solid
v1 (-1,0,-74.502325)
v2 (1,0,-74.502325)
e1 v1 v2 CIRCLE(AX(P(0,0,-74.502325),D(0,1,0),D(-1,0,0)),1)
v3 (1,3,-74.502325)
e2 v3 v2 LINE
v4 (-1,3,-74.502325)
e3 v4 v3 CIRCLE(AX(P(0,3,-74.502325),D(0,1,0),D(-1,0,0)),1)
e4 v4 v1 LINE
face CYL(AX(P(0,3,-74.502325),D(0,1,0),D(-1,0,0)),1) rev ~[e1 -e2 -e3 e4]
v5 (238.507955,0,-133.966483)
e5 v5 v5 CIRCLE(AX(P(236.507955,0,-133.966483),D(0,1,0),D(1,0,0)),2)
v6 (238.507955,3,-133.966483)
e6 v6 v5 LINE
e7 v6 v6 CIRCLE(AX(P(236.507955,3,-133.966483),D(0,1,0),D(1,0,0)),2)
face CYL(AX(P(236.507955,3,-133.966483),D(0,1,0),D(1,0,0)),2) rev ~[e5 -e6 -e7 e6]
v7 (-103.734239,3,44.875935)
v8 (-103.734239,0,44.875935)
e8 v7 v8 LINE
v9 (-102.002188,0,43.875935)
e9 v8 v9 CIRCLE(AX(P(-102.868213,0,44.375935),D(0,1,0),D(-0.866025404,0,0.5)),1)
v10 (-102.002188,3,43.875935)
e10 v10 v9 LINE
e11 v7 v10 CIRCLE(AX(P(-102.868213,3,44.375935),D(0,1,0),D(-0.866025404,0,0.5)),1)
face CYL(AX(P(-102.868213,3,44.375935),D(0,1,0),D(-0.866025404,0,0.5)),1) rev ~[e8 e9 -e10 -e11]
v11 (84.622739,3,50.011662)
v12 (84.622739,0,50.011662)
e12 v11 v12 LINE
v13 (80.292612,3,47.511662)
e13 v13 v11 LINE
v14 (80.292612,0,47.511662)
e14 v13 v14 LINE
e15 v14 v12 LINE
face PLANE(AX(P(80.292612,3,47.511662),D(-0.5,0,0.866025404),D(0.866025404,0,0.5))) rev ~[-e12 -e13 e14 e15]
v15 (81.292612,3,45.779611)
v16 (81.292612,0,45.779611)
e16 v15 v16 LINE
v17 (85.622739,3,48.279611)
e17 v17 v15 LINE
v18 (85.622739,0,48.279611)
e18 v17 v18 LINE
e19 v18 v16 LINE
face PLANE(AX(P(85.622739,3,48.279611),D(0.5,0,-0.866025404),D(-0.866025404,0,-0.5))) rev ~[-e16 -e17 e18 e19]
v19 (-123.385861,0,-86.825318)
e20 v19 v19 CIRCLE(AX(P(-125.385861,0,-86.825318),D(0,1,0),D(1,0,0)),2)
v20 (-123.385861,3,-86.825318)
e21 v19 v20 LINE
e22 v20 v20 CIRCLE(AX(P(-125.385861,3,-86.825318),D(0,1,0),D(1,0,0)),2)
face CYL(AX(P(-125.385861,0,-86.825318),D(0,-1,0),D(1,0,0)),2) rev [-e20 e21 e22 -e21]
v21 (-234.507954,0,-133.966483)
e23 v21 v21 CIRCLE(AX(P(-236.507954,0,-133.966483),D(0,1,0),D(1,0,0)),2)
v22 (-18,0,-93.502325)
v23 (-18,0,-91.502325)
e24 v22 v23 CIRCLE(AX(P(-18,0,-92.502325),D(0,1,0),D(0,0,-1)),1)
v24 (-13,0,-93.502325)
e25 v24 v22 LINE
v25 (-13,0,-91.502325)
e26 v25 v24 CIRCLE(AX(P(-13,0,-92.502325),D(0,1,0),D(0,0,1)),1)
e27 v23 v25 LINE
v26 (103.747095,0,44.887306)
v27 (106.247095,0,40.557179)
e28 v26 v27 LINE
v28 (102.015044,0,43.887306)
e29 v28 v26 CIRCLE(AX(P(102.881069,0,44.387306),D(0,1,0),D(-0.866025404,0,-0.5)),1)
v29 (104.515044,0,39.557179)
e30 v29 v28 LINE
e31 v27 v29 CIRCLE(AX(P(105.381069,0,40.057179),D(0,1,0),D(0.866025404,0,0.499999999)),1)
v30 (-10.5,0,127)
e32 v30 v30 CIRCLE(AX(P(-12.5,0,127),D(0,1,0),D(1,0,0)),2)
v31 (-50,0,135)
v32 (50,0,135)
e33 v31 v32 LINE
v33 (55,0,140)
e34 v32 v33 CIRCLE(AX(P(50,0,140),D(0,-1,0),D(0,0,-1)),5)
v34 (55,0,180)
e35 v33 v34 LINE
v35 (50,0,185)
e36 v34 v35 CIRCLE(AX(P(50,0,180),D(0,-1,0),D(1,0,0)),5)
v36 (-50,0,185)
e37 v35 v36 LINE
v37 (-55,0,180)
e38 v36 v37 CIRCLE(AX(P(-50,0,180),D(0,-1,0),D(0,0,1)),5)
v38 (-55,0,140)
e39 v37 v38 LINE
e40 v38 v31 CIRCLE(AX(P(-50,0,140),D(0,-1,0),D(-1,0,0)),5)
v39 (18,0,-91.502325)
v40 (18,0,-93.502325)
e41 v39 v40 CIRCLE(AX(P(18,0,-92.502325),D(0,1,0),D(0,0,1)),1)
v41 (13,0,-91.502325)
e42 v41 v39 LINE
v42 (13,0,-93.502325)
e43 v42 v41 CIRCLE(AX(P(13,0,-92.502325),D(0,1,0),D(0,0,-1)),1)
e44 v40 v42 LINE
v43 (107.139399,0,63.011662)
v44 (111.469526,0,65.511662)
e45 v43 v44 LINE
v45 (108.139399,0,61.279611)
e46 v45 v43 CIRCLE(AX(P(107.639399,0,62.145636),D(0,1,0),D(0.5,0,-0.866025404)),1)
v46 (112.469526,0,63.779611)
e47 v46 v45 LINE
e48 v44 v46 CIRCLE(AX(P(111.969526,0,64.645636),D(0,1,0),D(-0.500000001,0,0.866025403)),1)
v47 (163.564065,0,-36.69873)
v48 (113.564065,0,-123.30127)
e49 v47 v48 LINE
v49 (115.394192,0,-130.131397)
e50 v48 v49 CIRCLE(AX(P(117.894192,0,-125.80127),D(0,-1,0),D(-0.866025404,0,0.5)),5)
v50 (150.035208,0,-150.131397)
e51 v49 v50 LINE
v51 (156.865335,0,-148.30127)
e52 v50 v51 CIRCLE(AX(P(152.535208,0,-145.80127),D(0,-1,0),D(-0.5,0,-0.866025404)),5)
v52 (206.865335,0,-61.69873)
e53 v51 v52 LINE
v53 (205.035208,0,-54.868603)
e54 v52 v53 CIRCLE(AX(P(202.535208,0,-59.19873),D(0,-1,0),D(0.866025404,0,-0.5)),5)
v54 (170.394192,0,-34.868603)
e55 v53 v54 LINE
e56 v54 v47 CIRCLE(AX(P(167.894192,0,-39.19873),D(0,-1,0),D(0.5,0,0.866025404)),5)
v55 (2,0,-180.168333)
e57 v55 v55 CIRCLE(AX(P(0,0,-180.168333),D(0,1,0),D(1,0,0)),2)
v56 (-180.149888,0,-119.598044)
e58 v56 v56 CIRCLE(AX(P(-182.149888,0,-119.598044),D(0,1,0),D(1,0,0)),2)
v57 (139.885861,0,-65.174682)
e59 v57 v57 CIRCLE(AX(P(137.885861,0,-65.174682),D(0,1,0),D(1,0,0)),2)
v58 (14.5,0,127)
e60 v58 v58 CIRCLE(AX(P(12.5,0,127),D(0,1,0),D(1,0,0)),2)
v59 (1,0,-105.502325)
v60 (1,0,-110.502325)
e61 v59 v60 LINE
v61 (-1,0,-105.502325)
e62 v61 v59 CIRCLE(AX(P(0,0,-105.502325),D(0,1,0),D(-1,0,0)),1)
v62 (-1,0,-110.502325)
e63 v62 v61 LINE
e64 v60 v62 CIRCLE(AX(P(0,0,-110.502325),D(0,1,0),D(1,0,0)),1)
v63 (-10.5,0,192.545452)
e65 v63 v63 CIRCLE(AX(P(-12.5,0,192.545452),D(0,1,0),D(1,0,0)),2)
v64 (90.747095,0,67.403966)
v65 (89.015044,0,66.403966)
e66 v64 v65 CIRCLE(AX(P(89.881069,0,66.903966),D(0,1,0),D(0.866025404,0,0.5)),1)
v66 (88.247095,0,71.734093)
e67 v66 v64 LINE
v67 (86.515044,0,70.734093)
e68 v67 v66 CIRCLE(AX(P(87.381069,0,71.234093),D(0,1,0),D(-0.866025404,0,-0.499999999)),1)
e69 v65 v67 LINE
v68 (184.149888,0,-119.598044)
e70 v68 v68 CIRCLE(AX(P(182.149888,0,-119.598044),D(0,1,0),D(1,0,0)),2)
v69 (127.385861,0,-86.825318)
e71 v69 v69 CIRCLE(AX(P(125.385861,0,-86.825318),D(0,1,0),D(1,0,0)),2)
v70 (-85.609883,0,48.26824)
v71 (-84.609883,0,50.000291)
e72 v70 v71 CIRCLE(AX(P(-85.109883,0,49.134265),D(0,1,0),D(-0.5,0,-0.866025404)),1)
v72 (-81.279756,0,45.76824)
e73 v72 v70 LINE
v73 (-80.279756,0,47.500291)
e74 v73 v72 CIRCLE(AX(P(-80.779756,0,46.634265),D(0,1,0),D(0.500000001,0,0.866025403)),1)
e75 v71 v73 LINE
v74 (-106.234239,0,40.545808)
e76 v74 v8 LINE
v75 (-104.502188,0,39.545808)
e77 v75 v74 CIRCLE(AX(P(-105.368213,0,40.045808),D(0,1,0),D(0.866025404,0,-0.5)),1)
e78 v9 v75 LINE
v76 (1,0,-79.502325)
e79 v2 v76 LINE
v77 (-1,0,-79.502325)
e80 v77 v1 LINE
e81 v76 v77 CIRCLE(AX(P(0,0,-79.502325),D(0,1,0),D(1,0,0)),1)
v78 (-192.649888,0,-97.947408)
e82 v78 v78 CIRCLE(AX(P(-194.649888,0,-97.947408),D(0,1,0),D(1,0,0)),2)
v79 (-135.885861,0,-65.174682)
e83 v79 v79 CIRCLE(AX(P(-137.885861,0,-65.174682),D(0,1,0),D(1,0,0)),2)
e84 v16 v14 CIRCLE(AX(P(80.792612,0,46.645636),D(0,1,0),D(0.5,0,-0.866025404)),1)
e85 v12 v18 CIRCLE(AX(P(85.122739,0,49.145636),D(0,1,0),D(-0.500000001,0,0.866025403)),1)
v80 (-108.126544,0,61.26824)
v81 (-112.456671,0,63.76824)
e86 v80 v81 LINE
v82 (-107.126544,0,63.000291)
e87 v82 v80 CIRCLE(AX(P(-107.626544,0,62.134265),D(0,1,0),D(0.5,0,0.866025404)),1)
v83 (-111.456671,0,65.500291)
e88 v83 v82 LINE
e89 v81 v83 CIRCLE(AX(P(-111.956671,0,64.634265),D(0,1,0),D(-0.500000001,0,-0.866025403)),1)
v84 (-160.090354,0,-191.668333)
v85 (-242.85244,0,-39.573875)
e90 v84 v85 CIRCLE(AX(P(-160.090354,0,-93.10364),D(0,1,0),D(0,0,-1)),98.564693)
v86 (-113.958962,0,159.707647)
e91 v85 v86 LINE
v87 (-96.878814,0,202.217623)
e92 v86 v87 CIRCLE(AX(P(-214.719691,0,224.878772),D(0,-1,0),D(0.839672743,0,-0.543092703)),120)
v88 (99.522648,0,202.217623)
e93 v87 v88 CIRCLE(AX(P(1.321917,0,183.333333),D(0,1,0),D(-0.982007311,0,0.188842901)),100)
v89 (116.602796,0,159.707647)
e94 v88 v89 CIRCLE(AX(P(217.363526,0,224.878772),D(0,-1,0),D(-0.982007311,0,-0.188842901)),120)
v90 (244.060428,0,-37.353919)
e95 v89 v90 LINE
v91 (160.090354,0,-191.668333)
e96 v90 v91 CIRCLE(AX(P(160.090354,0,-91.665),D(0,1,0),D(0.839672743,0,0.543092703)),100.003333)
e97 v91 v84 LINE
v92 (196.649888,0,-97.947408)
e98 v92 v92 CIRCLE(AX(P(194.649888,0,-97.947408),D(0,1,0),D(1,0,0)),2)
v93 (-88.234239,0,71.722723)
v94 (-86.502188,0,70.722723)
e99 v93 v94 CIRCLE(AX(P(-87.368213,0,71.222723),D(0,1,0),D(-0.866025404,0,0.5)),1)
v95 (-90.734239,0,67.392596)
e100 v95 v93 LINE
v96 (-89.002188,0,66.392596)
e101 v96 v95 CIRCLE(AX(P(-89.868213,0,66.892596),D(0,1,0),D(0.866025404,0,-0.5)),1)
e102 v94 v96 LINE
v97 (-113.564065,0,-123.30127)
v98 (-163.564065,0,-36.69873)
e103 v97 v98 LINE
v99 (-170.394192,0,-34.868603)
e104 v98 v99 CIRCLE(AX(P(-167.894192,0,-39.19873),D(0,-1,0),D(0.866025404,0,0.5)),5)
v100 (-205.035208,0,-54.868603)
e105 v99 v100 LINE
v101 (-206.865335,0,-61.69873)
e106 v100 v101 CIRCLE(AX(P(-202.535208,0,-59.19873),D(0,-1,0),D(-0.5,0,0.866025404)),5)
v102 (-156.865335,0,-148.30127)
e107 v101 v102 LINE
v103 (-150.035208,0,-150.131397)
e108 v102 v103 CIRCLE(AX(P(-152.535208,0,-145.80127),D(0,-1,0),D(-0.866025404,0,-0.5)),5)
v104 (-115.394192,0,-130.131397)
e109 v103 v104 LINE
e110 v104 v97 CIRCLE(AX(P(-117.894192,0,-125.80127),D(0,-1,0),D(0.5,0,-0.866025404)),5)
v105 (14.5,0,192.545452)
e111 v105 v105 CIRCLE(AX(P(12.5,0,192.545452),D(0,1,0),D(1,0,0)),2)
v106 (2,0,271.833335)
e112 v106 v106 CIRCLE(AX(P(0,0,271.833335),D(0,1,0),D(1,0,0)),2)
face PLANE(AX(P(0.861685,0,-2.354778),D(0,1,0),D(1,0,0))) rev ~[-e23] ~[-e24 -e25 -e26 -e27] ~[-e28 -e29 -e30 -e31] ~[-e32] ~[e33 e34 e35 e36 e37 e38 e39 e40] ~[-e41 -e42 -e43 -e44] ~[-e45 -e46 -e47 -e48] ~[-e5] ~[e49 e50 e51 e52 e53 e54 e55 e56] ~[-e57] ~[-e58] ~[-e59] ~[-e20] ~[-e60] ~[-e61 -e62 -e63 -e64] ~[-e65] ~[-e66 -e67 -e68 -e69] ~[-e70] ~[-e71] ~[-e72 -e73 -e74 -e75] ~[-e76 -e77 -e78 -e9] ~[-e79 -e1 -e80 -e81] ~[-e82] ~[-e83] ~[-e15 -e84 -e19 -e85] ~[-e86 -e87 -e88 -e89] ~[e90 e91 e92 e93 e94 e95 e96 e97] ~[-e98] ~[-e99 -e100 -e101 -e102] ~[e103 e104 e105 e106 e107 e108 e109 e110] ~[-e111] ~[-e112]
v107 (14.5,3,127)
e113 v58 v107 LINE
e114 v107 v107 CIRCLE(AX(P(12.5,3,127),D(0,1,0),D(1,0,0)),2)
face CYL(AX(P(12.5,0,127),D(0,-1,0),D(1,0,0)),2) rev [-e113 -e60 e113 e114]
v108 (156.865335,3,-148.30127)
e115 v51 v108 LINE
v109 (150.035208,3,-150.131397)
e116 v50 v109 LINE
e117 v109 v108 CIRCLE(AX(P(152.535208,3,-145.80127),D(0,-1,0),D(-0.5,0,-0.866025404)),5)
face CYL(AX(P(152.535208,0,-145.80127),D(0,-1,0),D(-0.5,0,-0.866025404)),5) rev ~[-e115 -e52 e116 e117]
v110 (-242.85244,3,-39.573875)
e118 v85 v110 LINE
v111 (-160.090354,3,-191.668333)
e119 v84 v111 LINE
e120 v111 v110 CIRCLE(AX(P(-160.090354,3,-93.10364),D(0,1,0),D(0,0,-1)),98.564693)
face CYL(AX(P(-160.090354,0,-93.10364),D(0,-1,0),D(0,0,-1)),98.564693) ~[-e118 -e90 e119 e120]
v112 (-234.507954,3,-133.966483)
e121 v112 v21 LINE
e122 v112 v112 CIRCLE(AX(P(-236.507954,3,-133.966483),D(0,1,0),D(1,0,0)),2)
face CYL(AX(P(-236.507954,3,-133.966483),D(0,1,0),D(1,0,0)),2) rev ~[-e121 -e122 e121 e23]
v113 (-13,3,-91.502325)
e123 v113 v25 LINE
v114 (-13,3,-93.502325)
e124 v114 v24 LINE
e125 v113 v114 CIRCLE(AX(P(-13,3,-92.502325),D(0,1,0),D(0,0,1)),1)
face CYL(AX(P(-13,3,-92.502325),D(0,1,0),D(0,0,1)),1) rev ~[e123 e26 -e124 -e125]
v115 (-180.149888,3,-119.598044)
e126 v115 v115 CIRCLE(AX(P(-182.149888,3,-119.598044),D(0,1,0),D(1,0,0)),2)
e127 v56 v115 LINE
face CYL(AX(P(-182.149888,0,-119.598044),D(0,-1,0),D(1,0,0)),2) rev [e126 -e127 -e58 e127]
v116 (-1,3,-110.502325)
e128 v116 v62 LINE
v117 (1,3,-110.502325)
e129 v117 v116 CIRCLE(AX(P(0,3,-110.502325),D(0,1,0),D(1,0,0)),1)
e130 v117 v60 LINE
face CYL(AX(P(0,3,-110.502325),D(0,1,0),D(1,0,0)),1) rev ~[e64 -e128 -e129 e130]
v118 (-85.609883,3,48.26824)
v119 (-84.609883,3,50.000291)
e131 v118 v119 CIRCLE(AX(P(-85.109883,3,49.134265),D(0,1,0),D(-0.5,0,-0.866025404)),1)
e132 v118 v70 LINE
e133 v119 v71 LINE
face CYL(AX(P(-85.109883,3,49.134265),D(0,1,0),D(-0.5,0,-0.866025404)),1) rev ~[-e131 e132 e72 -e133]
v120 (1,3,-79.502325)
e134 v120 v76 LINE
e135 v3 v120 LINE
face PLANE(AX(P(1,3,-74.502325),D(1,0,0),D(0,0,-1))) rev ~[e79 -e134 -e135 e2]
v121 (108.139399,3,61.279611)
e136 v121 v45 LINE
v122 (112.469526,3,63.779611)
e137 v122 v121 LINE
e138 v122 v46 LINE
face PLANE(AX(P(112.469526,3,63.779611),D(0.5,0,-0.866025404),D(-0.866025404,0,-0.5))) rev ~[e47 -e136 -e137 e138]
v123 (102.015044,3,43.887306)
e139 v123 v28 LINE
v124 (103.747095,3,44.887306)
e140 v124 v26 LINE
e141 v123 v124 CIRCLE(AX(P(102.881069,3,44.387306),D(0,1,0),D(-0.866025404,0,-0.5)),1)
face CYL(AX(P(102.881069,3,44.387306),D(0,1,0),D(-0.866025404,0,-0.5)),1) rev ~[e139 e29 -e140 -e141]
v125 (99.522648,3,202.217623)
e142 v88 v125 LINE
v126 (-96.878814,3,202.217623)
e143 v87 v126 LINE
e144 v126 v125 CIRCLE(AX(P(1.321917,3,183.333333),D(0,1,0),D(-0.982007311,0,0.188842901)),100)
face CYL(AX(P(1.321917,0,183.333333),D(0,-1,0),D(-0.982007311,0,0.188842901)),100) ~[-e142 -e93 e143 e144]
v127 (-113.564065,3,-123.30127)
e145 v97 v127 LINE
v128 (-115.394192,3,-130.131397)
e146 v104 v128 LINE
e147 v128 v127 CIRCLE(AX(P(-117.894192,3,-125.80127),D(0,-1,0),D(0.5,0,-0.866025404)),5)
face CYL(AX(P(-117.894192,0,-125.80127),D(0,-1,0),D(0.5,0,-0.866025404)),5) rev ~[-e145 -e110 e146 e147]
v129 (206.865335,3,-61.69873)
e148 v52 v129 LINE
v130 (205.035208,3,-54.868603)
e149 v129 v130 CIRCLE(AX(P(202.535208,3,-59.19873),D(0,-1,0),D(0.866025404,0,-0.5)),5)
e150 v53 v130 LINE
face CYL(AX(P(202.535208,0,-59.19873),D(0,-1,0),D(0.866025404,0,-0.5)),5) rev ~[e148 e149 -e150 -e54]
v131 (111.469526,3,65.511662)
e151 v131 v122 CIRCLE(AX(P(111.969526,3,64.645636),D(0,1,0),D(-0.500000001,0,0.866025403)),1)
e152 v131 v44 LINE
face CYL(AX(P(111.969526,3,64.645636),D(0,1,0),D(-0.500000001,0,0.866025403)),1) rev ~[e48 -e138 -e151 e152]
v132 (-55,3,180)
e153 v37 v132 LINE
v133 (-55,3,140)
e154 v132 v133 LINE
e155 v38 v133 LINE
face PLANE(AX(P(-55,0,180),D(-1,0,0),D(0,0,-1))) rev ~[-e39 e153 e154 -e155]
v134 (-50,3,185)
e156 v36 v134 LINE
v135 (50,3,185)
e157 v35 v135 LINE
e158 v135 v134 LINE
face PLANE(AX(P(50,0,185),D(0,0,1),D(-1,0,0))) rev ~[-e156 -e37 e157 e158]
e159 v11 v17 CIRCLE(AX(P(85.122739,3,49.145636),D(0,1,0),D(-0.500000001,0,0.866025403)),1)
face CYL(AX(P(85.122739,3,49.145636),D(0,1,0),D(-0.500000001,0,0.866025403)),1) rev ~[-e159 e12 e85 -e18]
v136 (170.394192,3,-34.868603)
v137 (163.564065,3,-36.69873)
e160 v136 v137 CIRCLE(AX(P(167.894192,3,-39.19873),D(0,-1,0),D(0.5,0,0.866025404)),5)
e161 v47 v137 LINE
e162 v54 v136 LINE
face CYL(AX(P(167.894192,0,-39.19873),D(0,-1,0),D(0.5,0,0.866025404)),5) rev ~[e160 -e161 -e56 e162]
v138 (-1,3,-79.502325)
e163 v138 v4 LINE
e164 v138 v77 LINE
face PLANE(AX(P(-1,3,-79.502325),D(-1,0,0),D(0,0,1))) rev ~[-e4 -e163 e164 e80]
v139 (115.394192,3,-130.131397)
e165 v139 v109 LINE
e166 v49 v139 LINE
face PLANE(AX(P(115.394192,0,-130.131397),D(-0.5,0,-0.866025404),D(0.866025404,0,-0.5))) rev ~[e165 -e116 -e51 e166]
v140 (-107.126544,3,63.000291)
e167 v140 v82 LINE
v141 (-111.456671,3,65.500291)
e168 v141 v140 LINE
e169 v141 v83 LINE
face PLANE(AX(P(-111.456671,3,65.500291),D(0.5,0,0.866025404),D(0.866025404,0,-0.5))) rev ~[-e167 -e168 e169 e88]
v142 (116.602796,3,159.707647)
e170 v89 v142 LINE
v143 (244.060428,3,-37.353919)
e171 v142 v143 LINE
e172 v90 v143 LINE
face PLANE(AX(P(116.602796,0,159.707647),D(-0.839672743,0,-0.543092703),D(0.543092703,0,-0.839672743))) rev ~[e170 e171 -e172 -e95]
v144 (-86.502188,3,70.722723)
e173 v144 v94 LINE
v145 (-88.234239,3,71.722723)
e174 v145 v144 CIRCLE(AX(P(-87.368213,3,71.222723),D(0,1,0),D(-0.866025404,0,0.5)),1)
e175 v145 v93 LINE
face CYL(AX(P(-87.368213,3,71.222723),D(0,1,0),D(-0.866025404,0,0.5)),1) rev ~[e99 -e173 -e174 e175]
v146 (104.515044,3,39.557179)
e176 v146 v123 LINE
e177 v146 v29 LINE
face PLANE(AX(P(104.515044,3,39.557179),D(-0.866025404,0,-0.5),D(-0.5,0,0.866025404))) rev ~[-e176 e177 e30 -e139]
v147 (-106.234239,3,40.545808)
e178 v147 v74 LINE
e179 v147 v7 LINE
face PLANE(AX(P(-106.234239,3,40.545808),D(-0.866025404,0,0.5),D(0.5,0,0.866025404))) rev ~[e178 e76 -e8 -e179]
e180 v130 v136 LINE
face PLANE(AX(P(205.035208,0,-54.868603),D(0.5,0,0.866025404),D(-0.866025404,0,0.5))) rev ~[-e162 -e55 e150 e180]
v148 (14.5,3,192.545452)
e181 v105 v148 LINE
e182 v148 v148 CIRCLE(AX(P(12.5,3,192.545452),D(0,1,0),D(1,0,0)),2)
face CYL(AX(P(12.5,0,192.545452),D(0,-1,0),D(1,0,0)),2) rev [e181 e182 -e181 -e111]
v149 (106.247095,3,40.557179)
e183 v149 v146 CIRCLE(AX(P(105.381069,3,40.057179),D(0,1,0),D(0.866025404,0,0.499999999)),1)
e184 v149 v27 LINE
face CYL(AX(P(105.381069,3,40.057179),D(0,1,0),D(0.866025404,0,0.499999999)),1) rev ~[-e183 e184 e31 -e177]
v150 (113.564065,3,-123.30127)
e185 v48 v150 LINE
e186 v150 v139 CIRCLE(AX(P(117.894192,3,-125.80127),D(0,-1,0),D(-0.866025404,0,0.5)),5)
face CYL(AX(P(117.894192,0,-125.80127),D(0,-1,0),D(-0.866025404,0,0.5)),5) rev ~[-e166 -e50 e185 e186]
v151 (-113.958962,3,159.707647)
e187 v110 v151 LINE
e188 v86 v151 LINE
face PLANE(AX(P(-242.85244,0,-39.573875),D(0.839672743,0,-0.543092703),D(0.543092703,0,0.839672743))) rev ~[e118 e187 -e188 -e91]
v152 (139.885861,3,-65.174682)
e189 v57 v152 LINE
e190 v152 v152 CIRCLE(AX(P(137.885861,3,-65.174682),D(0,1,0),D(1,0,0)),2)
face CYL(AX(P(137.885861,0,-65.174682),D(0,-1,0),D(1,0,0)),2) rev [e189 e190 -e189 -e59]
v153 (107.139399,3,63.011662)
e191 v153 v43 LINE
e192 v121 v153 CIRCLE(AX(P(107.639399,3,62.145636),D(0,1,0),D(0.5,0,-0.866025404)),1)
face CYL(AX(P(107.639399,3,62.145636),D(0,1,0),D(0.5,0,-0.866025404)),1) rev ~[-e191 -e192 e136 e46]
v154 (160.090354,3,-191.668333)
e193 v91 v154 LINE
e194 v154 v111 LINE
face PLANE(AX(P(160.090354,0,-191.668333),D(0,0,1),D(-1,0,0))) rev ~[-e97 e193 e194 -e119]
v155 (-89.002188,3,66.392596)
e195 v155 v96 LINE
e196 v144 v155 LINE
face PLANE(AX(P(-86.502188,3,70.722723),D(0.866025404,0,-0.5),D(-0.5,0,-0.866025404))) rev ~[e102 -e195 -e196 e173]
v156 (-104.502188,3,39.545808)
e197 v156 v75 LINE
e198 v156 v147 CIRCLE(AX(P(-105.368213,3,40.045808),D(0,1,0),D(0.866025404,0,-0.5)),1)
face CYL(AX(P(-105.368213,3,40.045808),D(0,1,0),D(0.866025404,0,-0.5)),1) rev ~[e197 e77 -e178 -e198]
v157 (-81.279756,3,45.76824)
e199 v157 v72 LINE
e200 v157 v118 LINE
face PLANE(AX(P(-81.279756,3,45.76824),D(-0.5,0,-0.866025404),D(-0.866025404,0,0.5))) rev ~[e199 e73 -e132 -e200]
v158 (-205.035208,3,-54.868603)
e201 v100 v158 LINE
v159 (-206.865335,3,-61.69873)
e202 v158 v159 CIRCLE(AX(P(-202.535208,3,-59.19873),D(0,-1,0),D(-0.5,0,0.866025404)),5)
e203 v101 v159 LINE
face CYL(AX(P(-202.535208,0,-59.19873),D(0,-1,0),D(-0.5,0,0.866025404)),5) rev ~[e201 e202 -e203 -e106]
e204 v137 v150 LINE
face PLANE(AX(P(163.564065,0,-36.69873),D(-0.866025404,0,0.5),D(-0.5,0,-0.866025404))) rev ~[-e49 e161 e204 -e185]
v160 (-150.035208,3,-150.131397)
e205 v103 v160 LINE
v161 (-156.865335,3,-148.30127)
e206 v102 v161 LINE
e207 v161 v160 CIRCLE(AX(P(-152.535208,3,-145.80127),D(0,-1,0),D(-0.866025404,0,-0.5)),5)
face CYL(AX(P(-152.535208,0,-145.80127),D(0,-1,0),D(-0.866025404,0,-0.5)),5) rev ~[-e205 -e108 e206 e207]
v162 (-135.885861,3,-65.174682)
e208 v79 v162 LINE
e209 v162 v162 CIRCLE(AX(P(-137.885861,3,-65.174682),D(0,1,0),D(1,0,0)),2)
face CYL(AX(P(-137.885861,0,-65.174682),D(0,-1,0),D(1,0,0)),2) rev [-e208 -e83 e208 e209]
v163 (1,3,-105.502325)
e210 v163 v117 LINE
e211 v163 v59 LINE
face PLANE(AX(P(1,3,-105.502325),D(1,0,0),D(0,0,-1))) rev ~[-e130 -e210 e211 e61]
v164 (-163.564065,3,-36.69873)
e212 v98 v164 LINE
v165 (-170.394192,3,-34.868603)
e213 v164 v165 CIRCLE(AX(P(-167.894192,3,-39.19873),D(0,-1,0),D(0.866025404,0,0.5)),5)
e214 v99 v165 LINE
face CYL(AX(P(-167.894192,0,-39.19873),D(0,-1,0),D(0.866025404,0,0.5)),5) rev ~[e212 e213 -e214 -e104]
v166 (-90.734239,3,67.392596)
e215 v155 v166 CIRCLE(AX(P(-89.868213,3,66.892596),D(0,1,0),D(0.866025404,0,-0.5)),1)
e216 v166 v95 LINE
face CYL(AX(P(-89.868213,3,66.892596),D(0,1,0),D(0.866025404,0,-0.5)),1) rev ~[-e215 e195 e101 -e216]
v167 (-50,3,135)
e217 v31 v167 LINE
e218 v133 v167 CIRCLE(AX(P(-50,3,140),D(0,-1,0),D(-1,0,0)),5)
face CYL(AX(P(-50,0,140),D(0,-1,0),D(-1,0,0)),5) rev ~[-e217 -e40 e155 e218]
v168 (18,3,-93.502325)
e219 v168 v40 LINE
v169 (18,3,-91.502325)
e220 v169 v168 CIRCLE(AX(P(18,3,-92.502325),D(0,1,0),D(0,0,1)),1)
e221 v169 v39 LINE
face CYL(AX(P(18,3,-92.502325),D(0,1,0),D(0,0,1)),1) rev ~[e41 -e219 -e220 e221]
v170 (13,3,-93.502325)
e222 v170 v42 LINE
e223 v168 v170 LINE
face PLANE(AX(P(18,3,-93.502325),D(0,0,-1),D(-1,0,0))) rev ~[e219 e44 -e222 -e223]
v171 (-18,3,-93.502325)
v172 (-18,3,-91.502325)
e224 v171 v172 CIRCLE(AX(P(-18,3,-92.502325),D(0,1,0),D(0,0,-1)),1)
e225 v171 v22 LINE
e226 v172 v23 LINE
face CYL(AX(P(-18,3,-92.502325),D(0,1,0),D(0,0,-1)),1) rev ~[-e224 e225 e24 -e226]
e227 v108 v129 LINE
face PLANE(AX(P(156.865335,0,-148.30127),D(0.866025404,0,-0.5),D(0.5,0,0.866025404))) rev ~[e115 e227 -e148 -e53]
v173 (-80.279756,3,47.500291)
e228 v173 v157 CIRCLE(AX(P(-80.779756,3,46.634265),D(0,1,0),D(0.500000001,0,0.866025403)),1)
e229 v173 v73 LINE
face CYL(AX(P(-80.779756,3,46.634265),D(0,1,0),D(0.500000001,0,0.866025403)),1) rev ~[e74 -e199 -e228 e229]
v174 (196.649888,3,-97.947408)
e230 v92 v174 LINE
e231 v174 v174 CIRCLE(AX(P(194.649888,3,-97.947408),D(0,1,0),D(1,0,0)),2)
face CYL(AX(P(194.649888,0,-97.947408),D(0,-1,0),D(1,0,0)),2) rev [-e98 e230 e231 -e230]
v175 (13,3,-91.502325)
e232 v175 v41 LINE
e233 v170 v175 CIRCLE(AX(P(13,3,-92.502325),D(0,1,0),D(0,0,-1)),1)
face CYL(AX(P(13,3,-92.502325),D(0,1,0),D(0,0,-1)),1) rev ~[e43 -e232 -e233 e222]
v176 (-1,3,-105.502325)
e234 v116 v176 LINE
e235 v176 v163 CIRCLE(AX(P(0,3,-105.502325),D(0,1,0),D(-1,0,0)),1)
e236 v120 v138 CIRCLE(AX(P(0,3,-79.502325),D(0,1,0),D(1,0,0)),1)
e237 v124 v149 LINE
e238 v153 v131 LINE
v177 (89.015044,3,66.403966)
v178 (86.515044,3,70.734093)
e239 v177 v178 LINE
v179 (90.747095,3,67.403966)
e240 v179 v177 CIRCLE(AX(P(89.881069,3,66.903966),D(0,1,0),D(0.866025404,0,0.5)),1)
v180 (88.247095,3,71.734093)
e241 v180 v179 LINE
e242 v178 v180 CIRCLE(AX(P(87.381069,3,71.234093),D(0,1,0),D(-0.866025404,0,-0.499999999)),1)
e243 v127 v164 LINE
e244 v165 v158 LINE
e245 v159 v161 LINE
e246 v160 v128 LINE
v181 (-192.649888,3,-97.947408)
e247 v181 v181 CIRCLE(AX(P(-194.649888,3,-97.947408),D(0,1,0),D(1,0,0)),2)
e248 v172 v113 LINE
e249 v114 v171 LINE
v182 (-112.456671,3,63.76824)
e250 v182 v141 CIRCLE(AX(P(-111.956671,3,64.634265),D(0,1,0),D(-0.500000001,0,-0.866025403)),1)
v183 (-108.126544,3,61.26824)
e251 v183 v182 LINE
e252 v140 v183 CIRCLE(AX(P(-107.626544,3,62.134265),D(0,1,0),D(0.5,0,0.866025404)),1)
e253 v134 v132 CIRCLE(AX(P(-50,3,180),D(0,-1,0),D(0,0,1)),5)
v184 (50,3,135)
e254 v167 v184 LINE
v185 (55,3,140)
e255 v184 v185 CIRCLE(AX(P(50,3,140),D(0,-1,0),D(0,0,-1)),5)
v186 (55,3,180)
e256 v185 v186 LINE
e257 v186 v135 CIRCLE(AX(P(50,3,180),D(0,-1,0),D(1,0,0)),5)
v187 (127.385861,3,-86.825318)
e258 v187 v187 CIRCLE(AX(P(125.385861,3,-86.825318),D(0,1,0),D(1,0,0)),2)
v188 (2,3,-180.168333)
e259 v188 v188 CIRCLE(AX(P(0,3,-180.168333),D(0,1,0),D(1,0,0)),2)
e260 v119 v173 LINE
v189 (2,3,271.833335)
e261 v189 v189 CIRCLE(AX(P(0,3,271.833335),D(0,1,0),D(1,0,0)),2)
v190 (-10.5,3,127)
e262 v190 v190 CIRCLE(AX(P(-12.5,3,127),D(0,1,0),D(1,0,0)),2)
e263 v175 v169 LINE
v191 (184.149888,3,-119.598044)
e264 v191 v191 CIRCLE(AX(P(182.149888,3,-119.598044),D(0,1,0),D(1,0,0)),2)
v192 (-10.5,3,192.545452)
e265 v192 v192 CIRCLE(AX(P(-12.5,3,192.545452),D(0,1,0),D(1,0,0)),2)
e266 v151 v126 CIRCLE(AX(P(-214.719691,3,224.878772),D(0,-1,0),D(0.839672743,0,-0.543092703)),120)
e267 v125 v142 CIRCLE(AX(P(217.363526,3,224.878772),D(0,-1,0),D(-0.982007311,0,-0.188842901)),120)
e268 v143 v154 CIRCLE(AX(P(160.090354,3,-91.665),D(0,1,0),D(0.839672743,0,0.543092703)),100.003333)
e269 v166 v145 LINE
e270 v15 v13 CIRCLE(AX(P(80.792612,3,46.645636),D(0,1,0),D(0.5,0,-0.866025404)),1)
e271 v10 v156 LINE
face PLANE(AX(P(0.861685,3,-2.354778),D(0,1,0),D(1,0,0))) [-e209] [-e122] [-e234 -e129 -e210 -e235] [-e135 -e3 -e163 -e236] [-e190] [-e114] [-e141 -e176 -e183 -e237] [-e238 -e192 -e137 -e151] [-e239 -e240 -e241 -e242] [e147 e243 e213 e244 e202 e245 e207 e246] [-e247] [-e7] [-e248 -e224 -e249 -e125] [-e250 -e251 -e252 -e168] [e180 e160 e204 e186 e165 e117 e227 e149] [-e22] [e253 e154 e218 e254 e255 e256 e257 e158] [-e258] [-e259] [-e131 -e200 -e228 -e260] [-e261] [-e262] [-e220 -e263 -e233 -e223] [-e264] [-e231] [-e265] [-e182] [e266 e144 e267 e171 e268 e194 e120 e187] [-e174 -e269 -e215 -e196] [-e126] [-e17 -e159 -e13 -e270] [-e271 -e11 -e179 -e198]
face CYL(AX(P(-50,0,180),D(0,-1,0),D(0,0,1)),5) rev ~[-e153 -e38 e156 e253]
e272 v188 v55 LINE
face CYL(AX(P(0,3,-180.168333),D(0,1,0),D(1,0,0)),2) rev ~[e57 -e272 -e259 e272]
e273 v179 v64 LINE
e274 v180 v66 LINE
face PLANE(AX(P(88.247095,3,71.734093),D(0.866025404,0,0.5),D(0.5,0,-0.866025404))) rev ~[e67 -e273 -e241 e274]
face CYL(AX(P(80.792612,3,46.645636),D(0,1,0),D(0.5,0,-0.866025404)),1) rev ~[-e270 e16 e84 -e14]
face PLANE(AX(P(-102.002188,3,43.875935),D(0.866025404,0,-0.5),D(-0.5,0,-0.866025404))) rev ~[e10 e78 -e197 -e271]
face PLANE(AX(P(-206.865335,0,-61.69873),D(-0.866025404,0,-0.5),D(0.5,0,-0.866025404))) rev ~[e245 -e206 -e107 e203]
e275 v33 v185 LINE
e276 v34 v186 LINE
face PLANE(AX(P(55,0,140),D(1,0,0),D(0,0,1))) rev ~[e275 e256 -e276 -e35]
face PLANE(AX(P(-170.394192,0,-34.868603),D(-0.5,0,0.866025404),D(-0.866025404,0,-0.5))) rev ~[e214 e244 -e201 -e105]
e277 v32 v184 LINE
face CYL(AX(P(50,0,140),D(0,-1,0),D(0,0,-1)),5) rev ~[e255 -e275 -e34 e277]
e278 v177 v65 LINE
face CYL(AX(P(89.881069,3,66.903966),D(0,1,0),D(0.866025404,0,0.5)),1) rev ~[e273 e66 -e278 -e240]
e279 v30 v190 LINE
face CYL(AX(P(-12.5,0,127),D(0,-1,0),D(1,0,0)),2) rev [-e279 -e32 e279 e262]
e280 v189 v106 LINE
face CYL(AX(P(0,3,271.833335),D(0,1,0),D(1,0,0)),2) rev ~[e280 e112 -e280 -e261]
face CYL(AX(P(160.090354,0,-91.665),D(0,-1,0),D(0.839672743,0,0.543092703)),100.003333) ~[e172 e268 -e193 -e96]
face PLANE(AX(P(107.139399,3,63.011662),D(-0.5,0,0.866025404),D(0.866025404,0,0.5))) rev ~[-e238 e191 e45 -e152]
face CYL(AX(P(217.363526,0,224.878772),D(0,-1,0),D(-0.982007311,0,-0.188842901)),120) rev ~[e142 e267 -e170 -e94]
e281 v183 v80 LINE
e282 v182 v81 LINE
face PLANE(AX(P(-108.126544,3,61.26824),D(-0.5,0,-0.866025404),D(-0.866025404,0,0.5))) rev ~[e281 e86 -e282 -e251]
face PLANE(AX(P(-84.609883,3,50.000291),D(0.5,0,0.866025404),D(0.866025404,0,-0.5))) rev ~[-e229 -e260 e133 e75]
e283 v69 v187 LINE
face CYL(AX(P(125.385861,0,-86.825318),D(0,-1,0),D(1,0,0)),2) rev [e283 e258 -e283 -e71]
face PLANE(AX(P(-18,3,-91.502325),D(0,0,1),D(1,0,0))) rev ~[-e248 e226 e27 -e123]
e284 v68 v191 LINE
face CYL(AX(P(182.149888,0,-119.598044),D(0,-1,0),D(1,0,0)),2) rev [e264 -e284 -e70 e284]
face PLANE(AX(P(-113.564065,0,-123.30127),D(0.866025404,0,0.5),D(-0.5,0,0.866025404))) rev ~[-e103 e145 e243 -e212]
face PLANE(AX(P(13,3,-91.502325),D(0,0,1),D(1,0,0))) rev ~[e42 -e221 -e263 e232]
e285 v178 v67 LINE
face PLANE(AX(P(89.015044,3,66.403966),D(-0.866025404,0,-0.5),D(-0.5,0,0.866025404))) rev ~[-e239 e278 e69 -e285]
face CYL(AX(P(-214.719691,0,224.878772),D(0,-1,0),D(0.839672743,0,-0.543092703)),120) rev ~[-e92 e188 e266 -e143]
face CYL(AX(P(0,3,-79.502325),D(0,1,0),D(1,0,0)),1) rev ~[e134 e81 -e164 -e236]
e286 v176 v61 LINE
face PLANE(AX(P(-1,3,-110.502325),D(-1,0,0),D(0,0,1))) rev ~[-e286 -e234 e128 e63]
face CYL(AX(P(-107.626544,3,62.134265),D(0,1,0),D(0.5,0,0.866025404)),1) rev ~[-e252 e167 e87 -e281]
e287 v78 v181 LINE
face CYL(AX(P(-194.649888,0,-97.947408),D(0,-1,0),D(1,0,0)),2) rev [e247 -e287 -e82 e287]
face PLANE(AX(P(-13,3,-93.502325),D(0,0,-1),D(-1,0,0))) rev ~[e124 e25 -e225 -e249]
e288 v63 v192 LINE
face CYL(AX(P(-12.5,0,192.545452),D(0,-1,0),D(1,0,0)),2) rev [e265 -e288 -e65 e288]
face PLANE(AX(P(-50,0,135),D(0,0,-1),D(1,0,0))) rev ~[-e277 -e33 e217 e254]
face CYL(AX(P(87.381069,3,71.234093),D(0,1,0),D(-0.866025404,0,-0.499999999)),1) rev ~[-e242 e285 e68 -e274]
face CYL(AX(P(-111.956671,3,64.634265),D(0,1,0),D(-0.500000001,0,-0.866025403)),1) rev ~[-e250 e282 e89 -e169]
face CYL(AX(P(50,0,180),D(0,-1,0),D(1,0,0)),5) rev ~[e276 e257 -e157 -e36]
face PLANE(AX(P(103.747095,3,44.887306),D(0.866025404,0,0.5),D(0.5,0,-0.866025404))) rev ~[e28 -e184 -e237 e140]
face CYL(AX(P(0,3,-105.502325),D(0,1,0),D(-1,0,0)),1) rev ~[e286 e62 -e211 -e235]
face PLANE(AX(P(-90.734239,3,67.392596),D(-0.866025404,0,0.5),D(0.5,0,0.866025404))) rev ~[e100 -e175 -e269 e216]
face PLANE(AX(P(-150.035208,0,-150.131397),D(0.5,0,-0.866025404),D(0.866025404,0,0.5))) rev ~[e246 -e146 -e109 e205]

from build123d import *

# Parameters (mm, degrees)
SKETCH2_R           = 2
BOSS_EXTRUDE1_DEPTH = 3
SKETCH5_R           = 2
CUT_EXTRUDE3_DEPTH  = 92
CUT_EXTRUDE5_DEPTH  = 10


with BuildPart() as part:
    # Sketch2 → Boss-Extrude1 (new body)
    with BuildSketch(Plane(origin=(0, 0, 0), x_dir=(1, 0, 0), z_dir=(0, 1, 0))):
        with BuildLine():
            Line((-242.852440467, 39.573874981), (-113.958962067, -159.70764714))
            ThreePointArc((-113.958962067, -159.70764714), (-103.371408315, -180.139975304), (-96.878813929, -202.217623429))
            ThreePointArc((-96.878813929, -202.217623429), (1.321917166, -283.333333333), (99.522648261, -202.217623429))
            ThreePointArc((99.522648261, -202.217623429), (106.015242647, -180.139975304), (116.6027964, -159.70764714))
            Line((116.6027964, -159.70764714), (244.060427664, 37.353919355))
            ThreePointArc((244.060427664, 37.353919355), (247.930993611, 139.46341826), (160.090354442, 191.668333333))
            Line((160.090354442, 191.668333333), (-160.090354442, 191.668333333))
            ThreePointArc((-160.090354442, 191.668333333), (-246.667324741, 140.214434267), (-242.852440467, 39.573874981))
        make_face()
        with Locations((-12.5, -192.545452)):
            Circle(SKETCH2_R, mode=Mode.SUBTRACT)
        with BuildLine():
            ThreePointArc((-55, -140), (-53.535533906, -136.464466094), (-50, -135))
            Line((-50, -135), (50, -135))
            ThreePointArc((50, -135), (53.535533906, -136.464466094), (55, -140))
            Line((55, -140), (55, -180))
            ThreePointArc((55, -180), (53.535533906, -183.535533906), (50, -185))
            Line((50, -185), (-50, -185))
            ThreePointArc((-50, -185), (-53.535533906, -183.535533906), (-55, -180))
            Line((-55, -180), (-55, -140))
        make_face(mode=Mode.SUBTRACT)
        with Locations((-12.5, -127)):
            Circle(SKETCH2_R, mode=Mode.SUBTRACT)
        with Locations((12.5, -192.545452)):
            Circle(SKETCH2_R, mode=Mode.SUBTRACT)
        with Locations((12.5, -127)):
            Circle(SKETCH2_R, mode=Mode.SUBTRACT)
        with Locations((-137.885861375, 65.174682453)):
            Circle(SKETCH2_R, mode=Mode.SUBTRACT)
        with Locations((-194.64988791, 97.947408453)):
            Circle(SKETCH2_R, mode=Mode.SUBTRACT)
        with BuildLine():
            Line((-113.564064606, 123.301270189), (-138.564064606, 80))
            Line((-138.564064606, 80), (-163.564064606, 36.698729811))
            ThreePointArc((-163.564064606, 36.698729811), (-166.600096399, 34.369100679), (-170.394191624, 34.868602792))
            Line((-170.394191624, 34.868602792), (-205.035207776, 54.868602792))
            ThreePointArc((-205.035207776, 54.868602792), (-207.364836907, 57.904634585), (-206.865334795, 61.698729811))
            Line((-206.865334795, 61.698729811), (-156.865334795, 148.301270189))
            ThreePointArc((-156.865334795, 148.301270189), (-153.829303001, 150.630899321), (-150.035207776, 150.131397208))
            Line((-150.035207776, 150.131397208), (-115.394191624, 130.131397208))
            ThreePointArc((-115.394191624, 130.131397208), (-113.064562493, 127.095365415), (-113.564064606, 123.301270189))
        make_face(mode=Mode.SUBTRACT)
        with Locations((-182.14988791, 119.598043547)):
            Circle(SKETCH2_R, mode=Mode.SUBTRACT)
        with Locations((-125.385861375, 86.825317547)):
            Circle(SKETCH2_R, mode=Mode.SUBTRACT)
        with Locations((137.885861375, 65.174682453)):
            Circle(SKETCH2_R, mode=Mode.SUBTRACT)
        with Locations((125.385861375, 86.825317547)):
            Circle(SKETCH2_R, mode=Mode.SUBTRACT)
        with BuildLine():
            Line((163.564064606, 36.698729811), (138.564064606, 80))
            Line((138.564064606, 80), (113.564064606, 123.301270189))
            ThreePointArc((113.564064606, 123.301270189), (113.064562493, 127.095365415), (115.394191624, 130.131397208))
            Line((115.394191624, 130.131397208), (150.035207776, 150.131397208))
            ThreePointArc((150.035207776, 150.131397208), (153.829303001, 150.630899321), (156.865334795, 148.301270189))
            Line((156.865334795, 148.301270189), (206.865334795, 61.698729811))
            ThreePointArc((206.865334795, 61.698729811), (207.364836907, 57.904634585), (205.035207776, 54.868602792))
            Line((205.035207776, 54.868602792), (187.7146997, 44.868602792))
            Line((187.7146997, 44.868602792), (170.394191624, 34.868602792))
            ThreePointArc((170.394191624, 34.868602792), (166.600096399, 34.369100679), (163.564064606, 36.698729811))
        make_face(mode=Mode.SUBTRACT)
        with Locations((194.64988791, 97.947408453)):
            Circle(SKETCH2_R, mode=Mode.SUBTRACT)
        with Locations((182.14988791, 119.598043547)):
            Circle(SKETCH2_R, mode=Mode.SUBTRACT)
    extrude(amount=BOSS_EXTRUDE1_DEPTH)

    # Sketch5 → Cut-Extrude3 (cut)
    with BuildSketch(Plane(origin=(0, 3, 0), x_dir=(1, 0, 0), z_dir=(0, 1, 0))):
        with Locations((0, 180.168332775)):
            Circle(SKETCH5_R)
        with Locations((236.5079546, 133.966482848)):
            Circle(SKETCH5_R)
        with Locations((-236.507954462, 133.966482869)):
            Circle(SKETCH5_R)
        with Locations((0, -271.833334923)):
            Circle(SKETCH5_R)
    extrude(amount=-CUT_EXTRUDE3_DEPTH, mode=Mode.SUBTRACT)

    # Sketch7 → Cut-Extrude5 (cut)
    with BuildSketch(Plane(origin=(0, 3, 0), x_dir=(1, 0, 0), z_dir=(0, 1, 0))):
        with BuildLine():
            Line((-1, 110.502325279), (-1, 105.502325279))
            ThreePointArc((-1, 105.502325279), (0, 104.502325279), (1, 105.502325279))
            Line((1, 105.502325279), (1, 110.502325279))
            ThreePointArc((1, 110.502325279), (0, 111.502325279), (-1, 110.502325279))
        make_face()
        with BuildLine():
            Line((-106.234238689, -40.545808051), (-103.734238689, -44.87593507))
            ThreePointArc((-103.734238689, -44.87593507), (-102.368213267, -45.241960479), (-102.002187858, -43.875935056))
            Line((-102.002187858, -43.875935056), (-104.502187858, -39.545808037))
            ThreePointArc((-104.502187858, -39.545808037), (-105.86821328, -39.179782628), (-106.234238689, -40.545808051))
        make_face()
        with BuildLine():
            Line((112.469526392, -63.7796108), (108.139399373, -61.2796108))
            ThreePointArc((108.139399373, -61.2796108), (106.773373969, -61.645636204), (107.139399373, -63.011661607))
            Line((107.139399373, -63.011661607), (111.469526392, -65.511661607))
            ThreePointArc((111.469526392, -65.511661607), (112.835551796, -65.145636204), (112.469526392, -63.7796108))
        make_face()
        with BuildLine():
            Line((85.622738875, -48.2796108), (81.292611856, -45.7796108))
            ThreePointArc((81.292611856, -45.7796108), (79.926586452, -46.145636204), (80.292611856, -47.511661607))
            Line((80.292611856, -47.511661607), (84.622738875, -50.011661607))
            ThreePointArc((84.622738875, -50.011661607), (85.988764279, -49.645636204), (85.622738875, -48.2796108))
        make_face()
        with BuildLine():
            Line((88.247094528, -71.734093472), (90.747094528, -67.403966453))
            ThreePointArc((90.747094528, -67.403966453), (90.381069124, -66.037941049), (89.01504372, -66.403966453))
            Line((89.01504372, -66.403966453), (86.51504372, -70.734093472))
            ThreePointArc((86.51504372, -70.734093472), (86.881069124, -72.100118875), (88.247094528, -71.734093472))
        make_face()
        with BuildLine():
            ThreePointArc((102.01504372, -43.887305954), (102.381069124, -45.253331358), (103.747094528, -44.887305954))
            Line((103.747094528, -44.887305954), (106.247094528, -40.557178935))
            ThreePointArc((106.247094528, -40.557178935), (105.881069124, -39.191153532), (104.51504372, -39.557178935))
            Line((104.51504372, -39.557178935), (102.01504372, -43.887305954))
        make_face()
        with BuildLine():
            ThreePointArc((-89.00218787, -66.392595562), (-90.368213274, -66.026570158), (-90.734238677, -67.392595562))
            Line((-90.734238677, -67.392595562), (-88.234238677, -71.72272258))
            ThreePointArc((-88.234238677, -71.72272258), (-86.868213274, -72.088747984), (-86.50218787, -70.72272258))
            Line((-86.50218787, -70.72272258), (-89.00218787, -66.392595562))
        make_face()
        with BuildLine():
            Line((-81.279756017, -45.768239915), (-85.609883036, -48.268239915))
            ThreePointArc((-85.609883036, -48.268239915), (-85.97590844, -49.634265319), (-84.609883036, -50.000290723))
            Line((-84.609883036, -50.000290723), (-80.279756017, -47.500290723))
            ThreePointArc((-80.279756017, -47.500290723), (-79.913730614, -46.134265319), (-81.279756017, -45.768239915))
        make_face()
        with BuildLine():
            ThreePointArc((-107.126543535, -63.000290723), (-106.760518131, -61.634265319), (-108.126543535, -61.268239915))
            Line((-108.126543535, -61.268239915), (-112.456670554, -63.768239915))
            ThreePointArc((-112.456670554, -63.768239915), (-112.822695957, -65.134265319), (-111.456670554, -65.500290723))
            Line((-111.456670554, -65.500290723), (-107.126543535, -63.000290723))
        make_face()
        with BuildLine():
            ThreePointArc((1, 79.502325279), (0, 80.502325279), (-1, 79.502325279))
            Line((-1, 79.502325279), (-1, 74.502325279))
            ThreePointArc((-1, 74.502325279), (0, 73.502325279), (1, 74.502325279))
            Line((1, 74.502325279), (1, 79.502325279))
        make_face()
        with BuildLine():
            Line((18, 93.502325279), (13, 93.502325279))
            ThreePointArc((13, 93.502325279), (12, 92.502325279), (13, 91.502325279))
            Line((13, 91.502325279), (18, 91.502325279))
            ThreePointArc((18, 91.502325279), (19, 92.502325279), (18, 93.502325279))
        make_face()
        with BuildLine():
            ThreePointArc((-13, 91.502325279), (-12, 92.502325279), (-13, 93.502325279))
            Line((-13, 93.502325279), (-18, 93.502325279))
            ThreePointArc((-18, 93.502325279), (-19, 92.502325279), (-18, 91.502325279))
            Line((-18, 91.502325279), (-13, 91.502325279))
        make_face()
    extrude(amount=-CUT_EXTRUDE5_DEPTH, mode=Mode.SUBTRACT)


solid = part.part
